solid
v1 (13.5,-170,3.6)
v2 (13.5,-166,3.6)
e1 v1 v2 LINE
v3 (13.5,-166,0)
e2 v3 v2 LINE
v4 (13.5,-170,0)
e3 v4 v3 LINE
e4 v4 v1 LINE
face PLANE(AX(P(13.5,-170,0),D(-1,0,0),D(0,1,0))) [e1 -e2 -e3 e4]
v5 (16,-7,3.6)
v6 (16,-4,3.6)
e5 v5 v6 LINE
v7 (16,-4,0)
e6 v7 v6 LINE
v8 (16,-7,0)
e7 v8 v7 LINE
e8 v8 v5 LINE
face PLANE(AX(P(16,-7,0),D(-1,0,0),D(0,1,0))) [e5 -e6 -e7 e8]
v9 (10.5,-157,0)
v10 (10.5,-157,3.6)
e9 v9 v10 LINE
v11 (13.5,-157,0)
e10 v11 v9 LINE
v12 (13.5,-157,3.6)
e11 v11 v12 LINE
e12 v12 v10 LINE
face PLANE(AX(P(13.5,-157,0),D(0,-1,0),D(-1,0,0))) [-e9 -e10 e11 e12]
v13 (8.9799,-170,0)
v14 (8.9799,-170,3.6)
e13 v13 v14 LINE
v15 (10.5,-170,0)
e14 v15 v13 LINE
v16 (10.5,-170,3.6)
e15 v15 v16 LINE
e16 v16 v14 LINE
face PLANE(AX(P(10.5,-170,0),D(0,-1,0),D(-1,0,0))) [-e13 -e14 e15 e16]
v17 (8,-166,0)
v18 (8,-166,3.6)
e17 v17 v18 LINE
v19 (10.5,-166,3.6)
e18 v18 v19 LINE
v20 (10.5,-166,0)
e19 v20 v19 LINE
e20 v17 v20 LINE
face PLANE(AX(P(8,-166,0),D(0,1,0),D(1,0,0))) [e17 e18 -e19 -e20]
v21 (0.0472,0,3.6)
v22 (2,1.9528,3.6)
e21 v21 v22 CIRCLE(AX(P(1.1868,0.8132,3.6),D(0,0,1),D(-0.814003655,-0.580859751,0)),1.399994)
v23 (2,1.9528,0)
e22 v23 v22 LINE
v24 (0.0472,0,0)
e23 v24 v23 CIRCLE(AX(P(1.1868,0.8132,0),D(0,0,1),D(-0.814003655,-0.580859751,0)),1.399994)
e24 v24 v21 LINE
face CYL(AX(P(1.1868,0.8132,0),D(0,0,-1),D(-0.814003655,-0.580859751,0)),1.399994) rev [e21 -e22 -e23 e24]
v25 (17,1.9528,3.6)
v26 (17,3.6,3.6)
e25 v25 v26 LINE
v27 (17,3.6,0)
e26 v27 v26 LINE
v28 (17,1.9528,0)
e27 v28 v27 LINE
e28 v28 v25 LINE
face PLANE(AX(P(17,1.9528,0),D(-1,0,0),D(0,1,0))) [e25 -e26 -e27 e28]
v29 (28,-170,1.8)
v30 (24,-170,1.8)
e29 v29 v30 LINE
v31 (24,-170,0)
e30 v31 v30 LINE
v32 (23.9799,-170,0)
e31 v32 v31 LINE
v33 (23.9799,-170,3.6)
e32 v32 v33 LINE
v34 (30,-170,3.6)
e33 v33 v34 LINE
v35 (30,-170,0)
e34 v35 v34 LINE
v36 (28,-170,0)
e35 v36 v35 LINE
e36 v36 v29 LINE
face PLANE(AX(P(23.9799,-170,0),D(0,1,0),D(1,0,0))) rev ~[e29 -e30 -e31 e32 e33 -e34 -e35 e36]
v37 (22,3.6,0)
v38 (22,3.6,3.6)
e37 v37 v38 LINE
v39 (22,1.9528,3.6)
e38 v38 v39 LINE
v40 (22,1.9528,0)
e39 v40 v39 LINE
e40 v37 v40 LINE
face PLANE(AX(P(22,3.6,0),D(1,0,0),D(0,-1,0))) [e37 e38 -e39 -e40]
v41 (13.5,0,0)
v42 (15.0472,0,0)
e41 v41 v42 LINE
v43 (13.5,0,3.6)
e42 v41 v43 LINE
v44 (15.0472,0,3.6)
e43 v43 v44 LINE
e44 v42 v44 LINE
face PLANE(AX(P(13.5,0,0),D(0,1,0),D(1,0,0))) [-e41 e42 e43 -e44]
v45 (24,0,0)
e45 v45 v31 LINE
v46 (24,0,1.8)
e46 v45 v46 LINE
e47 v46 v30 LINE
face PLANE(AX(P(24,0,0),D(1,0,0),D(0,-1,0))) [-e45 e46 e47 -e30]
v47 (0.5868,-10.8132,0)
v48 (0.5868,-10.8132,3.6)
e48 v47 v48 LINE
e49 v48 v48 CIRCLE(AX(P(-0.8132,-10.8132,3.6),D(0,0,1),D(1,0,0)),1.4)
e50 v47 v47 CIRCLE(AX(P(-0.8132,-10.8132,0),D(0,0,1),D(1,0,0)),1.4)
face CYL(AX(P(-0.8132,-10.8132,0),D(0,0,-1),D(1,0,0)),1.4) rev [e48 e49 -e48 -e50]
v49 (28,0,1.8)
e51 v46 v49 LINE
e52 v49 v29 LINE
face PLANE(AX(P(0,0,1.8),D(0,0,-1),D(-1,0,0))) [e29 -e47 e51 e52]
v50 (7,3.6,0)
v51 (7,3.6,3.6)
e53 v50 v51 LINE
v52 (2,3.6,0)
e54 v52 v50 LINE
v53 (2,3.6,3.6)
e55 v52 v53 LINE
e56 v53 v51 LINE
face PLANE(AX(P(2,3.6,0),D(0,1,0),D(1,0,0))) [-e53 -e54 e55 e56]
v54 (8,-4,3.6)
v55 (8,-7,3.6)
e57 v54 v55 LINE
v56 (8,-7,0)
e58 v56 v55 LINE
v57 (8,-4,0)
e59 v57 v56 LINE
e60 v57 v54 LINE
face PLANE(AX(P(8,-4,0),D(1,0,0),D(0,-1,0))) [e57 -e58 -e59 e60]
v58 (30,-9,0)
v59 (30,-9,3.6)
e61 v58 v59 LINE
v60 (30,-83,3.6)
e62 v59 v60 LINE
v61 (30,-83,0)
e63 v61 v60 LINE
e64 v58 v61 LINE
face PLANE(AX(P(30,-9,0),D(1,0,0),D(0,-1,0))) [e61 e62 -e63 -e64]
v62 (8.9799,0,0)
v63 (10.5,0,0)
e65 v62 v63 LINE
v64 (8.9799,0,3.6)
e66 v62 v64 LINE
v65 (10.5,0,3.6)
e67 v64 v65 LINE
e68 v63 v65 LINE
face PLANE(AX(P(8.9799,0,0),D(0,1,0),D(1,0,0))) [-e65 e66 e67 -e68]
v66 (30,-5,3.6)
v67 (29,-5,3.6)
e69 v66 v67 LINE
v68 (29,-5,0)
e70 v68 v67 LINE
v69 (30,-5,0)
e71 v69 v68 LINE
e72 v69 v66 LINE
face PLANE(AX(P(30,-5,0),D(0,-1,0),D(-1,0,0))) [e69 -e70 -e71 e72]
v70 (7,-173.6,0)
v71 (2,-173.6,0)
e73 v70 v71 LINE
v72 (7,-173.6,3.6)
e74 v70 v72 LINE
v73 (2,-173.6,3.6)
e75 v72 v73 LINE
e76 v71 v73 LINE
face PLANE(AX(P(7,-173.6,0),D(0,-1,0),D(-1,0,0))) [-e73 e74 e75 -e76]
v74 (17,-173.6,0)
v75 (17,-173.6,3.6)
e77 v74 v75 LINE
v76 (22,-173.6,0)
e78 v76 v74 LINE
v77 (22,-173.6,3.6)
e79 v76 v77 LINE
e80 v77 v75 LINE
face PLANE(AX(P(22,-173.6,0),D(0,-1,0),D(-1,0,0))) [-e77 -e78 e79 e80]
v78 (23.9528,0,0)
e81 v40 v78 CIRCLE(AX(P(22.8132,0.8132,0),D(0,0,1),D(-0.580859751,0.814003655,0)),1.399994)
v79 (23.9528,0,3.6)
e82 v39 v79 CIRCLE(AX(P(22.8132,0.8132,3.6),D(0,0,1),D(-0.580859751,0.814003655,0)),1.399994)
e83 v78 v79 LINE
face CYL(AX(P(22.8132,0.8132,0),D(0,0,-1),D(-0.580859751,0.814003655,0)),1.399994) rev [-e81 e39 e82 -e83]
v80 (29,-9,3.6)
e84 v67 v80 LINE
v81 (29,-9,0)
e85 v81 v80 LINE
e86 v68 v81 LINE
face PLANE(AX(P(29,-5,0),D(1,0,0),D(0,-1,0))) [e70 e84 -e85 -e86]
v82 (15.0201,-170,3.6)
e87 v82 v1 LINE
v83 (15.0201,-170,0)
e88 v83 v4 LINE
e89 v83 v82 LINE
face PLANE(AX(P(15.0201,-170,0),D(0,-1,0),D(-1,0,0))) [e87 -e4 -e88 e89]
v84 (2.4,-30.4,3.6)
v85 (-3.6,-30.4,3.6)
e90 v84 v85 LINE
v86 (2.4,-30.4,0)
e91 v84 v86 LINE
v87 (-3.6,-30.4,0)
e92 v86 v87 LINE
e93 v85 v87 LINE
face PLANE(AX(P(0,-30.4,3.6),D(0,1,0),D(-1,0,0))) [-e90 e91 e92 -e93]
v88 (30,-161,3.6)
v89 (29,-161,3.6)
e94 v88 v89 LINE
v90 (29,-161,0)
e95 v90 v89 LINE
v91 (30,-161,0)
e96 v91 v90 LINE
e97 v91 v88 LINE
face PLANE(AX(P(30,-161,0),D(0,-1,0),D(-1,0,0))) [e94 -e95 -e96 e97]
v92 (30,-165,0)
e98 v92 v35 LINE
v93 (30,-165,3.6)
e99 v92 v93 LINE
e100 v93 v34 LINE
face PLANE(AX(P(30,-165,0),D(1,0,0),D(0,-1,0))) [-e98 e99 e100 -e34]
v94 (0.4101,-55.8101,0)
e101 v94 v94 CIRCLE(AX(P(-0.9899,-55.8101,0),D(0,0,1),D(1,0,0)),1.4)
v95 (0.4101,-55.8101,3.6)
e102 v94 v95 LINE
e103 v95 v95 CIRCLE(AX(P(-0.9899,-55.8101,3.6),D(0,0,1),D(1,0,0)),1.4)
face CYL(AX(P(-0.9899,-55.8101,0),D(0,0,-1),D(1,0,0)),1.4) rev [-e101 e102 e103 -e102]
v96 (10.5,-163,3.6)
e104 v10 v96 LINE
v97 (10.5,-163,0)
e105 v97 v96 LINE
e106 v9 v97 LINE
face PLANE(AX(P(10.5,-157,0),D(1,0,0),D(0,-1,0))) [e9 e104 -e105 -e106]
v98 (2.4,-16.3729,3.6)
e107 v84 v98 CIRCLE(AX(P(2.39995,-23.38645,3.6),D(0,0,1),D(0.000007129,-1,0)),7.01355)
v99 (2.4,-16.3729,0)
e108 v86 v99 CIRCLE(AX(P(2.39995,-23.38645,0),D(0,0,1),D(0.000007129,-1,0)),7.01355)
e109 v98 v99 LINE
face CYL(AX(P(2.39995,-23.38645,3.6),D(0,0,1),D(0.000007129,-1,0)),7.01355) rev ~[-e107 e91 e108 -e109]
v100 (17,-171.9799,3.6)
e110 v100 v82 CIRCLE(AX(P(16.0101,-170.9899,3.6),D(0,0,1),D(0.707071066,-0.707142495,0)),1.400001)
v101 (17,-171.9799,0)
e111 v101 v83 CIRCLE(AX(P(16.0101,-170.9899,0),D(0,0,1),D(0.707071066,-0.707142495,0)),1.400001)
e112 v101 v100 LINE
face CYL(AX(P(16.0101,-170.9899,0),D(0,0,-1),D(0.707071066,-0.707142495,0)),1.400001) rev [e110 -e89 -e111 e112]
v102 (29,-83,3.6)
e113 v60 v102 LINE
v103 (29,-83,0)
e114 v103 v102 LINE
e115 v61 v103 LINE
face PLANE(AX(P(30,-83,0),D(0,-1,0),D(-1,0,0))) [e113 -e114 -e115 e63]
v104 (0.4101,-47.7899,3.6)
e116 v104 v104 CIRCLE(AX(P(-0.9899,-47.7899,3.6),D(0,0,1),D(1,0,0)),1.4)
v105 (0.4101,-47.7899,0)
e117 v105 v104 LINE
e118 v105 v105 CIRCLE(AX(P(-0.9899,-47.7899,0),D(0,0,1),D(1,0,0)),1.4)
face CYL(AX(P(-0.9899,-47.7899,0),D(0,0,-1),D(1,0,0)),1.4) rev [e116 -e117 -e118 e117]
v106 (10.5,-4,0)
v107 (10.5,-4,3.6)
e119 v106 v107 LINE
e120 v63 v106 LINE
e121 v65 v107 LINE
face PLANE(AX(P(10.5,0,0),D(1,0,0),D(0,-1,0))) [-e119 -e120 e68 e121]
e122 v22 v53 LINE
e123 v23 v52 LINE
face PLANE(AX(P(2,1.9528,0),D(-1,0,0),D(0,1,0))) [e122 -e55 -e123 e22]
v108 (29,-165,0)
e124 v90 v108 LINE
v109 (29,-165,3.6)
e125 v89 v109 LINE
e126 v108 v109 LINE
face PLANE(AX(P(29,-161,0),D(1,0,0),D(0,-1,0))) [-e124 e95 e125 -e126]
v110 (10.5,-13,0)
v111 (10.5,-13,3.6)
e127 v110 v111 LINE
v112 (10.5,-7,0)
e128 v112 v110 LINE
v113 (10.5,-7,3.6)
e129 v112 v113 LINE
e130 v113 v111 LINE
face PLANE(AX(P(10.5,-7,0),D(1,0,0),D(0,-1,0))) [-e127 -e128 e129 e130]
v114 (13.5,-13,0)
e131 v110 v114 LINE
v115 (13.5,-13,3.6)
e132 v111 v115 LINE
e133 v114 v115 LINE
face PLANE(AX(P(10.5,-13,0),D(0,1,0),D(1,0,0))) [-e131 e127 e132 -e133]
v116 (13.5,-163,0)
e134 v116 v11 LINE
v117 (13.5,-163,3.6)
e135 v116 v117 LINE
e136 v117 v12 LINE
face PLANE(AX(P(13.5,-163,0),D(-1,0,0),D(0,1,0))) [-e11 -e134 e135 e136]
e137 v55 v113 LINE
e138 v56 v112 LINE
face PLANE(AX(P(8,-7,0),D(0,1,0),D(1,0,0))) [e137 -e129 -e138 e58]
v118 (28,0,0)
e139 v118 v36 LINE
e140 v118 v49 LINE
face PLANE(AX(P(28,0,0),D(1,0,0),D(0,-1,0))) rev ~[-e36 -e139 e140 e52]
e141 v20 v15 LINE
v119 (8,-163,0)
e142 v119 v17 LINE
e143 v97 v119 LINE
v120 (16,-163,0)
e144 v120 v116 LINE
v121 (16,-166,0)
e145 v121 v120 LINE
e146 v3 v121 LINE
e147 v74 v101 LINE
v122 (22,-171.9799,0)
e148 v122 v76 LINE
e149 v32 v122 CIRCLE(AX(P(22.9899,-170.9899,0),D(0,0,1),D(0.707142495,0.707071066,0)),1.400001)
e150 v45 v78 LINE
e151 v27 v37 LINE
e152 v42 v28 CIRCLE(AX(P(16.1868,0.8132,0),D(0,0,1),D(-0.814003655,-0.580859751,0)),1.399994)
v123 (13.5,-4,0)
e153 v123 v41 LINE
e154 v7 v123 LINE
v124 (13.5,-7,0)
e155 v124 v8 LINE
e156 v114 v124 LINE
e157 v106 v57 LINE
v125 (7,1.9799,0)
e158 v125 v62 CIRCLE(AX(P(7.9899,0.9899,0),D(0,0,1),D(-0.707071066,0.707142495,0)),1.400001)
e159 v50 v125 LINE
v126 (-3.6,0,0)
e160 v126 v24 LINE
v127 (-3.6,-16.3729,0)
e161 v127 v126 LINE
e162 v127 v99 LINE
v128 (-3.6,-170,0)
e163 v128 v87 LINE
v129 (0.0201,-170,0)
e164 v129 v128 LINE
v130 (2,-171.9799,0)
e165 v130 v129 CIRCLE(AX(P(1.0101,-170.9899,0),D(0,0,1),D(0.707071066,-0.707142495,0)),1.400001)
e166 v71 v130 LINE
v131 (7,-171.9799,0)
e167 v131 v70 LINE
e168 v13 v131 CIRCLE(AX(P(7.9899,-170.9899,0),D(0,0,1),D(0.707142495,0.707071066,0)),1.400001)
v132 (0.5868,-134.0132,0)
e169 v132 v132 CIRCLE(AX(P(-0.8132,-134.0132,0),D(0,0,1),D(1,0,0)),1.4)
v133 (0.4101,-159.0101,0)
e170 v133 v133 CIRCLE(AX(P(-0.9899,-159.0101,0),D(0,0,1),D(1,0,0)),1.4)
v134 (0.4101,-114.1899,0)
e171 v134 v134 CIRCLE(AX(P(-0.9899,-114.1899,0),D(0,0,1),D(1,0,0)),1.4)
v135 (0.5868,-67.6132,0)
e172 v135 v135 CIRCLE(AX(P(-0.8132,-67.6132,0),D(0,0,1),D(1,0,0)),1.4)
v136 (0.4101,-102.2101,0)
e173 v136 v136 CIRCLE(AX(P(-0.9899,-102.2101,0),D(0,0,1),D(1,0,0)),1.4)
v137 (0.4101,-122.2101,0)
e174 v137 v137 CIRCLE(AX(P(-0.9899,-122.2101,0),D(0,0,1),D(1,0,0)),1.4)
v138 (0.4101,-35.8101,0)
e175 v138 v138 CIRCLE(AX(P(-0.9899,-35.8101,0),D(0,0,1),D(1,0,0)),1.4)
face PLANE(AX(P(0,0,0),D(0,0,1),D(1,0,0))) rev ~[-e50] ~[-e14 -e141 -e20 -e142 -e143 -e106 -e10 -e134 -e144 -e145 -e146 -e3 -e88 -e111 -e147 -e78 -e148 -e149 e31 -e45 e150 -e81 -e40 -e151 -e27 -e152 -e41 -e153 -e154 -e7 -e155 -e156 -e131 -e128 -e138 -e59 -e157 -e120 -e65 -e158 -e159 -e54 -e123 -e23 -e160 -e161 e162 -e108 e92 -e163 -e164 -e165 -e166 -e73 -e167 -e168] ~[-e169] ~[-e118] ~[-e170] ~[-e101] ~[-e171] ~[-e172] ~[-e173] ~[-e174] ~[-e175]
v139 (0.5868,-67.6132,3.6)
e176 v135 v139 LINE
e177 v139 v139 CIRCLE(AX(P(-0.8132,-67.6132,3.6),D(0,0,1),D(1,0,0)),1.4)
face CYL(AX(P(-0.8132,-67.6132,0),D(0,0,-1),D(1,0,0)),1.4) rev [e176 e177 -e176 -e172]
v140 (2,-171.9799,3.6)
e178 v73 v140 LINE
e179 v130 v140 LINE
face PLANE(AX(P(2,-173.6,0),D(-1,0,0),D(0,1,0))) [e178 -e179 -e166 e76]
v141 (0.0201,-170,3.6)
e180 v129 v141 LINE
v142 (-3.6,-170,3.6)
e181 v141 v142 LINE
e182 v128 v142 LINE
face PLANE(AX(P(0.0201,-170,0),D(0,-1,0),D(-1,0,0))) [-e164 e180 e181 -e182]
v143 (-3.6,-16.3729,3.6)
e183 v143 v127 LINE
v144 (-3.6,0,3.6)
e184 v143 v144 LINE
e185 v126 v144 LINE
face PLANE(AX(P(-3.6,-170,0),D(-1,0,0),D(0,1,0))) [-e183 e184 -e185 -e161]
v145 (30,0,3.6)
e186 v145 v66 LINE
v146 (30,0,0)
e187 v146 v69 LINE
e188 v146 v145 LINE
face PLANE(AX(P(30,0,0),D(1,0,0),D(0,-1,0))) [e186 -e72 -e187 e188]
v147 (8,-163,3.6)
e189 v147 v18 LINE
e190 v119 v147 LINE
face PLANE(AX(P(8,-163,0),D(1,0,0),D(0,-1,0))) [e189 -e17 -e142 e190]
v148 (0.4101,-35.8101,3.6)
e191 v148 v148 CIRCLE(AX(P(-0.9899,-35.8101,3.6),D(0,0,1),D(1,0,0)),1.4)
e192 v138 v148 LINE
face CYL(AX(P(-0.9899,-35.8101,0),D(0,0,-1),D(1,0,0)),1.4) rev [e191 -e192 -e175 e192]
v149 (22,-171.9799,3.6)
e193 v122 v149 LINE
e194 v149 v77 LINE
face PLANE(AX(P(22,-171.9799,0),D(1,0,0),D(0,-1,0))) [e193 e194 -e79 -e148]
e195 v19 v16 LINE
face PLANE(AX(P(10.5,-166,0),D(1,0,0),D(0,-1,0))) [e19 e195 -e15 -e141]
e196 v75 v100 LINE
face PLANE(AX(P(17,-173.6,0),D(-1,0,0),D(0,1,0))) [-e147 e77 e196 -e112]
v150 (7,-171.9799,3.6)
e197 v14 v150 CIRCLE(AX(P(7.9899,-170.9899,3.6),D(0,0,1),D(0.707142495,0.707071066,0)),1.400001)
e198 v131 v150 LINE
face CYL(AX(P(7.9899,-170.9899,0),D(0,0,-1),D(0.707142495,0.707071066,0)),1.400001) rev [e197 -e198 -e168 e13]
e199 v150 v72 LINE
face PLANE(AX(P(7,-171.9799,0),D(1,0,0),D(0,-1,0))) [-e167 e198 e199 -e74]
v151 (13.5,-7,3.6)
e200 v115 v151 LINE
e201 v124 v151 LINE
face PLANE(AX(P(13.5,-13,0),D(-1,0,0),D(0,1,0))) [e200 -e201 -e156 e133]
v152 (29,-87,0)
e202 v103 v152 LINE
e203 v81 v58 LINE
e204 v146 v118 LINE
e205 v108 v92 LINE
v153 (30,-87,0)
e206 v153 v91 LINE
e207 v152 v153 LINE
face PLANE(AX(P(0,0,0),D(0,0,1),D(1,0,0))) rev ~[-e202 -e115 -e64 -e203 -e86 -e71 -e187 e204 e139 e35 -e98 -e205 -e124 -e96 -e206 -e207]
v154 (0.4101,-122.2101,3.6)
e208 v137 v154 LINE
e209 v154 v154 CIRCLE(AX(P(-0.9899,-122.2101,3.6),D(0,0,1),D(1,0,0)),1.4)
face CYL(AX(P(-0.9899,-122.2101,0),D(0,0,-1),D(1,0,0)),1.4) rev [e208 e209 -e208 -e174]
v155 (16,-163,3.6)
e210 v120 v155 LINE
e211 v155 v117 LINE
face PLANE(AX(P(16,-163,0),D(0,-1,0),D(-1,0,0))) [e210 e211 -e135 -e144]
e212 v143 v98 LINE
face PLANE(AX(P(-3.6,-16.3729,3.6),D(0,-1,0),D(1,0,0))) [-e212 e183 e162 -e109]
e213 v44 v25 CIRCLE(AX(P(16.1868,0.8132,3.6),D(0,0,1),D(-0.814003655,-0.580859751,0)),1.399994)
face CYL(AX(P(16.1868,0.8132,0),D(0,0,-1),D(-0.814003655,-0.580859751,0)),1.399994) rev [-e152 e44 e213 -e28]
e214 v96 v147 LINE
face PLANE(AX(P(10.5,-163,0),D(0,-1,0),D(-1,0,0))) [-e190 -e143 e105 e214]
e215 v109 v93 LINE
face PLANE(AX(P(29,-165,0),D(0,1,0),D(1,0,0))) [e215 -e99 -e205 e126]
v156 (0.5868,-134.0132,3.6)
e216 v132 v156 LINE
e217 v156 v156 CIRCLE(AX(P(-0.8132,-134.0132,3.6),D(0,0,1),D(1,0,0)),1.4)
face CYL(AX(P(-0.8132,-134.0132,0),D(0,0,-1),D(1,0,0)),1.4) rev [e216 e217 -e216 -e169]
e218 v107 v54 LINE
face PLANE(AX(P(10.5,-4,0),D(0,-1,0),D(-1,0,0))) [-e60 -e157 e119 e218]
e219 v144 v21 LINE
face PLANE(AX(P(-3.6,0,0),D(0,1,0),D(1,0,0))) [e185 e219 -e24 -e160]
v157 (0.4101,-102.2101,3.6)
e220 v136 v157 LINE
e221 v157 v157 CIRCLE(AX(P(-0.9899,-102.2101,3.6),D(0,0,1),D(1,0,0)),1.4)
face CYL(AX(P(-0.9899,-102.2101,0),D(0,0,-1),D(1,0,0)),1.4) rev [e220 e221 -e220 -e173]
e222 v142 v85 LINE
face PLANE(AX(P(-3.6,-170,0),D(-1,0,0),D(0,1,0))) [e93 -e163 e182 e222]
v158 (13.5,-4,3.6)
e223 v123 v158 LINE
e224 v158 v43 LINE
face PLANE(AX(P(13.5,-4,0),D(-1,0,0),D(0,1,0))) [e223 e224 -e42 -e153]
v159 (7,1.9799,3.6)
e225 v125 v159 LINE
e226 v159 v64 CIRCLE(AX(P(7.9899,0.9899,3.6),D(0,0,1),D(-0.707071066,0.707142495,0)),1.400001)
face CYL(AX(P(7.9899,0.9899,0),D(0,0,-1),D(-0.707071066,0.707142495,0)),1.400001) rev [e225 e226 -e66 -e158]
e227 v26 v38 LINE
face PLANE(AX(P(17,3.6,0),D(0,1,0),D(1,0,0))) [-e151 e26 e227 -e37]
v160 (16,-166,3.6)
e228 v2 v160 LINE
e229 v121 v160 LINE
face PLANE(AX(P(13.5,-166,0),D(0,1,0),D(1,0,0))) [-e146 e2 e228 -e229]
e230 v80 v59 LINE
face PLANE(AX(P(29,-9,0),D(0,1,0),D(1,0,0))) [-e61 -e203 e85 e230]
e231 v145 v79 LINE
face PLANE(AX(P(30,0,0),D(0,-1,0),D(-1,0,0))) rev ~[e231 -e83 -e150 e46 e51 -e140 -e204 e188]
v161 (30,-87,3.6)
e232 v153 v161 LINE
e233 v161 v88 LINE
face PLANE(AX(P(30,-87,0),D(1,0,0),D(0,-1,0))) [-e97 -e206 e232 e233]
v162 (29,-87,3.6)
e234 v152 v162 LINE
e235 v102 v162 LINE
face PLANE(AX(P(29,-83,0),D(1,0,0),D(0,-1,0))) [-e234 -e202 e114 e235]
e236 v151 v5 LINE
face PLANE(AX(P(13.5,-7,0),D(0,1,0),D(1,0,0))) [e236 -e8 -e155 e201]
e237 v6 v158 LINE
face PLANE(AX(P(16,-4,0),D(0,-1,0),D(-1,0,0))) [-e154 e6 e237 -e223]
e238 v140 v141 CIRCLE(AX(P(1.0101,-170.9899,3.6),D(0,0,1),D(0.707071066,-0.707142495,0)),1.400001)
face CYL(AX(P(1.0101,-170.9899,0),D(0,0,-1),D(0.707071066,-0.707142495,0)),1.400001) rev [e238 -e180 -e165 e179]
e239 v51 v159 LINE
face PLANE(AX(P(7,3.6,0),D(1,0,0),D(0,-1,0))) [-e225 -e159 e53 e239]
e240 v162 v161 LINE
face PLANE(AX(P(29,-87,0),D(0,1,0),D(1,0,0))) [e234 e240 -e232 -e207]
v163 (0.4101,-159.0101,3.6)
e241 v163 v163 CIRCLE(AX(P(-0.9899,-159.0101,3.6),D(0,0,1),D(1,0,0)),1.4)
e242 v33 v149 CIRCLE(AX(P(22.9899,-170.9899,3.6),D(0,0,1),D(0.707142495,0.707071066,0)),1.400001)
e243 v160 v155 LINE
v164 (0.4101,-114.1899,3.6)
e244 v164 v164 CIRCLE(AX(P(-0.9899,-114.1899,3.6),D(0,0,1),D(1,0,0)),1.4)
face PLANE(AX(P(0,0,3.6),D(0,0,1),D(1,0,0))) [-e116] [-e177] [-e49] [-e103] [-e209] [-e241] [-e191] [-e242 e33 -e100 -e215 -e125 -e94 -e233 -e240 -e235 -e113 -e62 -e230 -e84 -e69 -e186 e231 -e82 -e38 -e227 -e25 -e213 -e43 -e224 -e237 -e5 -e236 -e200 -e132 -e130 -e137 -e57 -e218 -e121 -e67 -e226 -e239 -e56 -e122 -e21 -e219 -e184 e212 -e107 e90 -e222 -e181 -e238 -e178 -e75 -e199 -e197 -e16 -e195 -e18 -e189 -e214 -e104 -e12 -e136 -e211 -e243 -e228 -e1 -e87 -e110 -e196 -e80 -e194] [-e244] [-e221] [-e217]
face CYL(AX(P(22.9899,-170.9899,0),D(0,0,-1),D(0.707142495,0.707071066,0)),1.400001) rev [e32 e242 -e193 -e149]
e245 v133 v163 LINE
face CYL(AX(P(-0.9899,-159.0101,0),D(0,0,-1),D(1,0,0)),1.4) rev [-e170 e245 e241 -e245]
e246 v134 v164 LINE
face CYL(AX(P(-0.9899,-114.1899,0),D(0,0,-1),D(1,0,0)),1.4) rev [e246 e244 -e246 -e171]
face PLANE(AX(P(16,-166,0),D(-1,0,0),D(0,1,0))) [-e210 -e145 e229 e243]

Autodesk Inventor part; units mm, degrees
ref_plane "YZ Plane" through (0, 0, 0) normal (1, 0, 0) x (0, 1, 0)
ref_plane "XZ Plane" through (0, 0, 0) normal (0, 1, 0) x (-1, 0, 0)
ref_plane "XY Plane" through (0, 0, 0) normal (0, 0, 1) x (1, 0, 0)
ref_plane "Work Plane1" through (0, 0, 0) normal (0, 0, 1) x (1, 0, 0)
sketch "Sketch1" plane through (0, 0, 0) normal (0, 0, 1) x (1, 0, 0)
  line L0 (30, 0) -> (23.9528, 0) projected
  line L1 (30, 0) -> (30, -5) projected
  line L2 (23.9799, -170) -> (30, -170) projected
  line L3 (22, -171.9799) -> (22, -173.6) projected
  line L4 (22, -173.6) -> (17, -173.6) projected
  line L5 (17, -173.6) -> (17, -171.9799) projected
  line L6 (15.0201, -170) -> (13.5, -170) projected
  line L7 (13.5, -170) -> (13.5, -166) projected
  line L8 (13.5, -166) -> (16, -166) projected
  line L9 (16, -166) -> (16, -163) projected
  line L10 (16, -163) -> (13.5, -163) projected
  line L11 (13.5, -163) -> (13.5, -157) projected
  line L12 (13.5, -157) -> (10.5, -157) projected
  line L13 (10.5, -157) -> (10.5, -163) projected
  line L14 (10.5, -163) -> (8, -163) projected
  line L15 (8, -163) -> (8, -166) projected
  line L16 (8, -166) -> (10.5, -166) projected
  line L17 (10.5, -166) -> (10.5, -170) projected
  line L18 (10.5, -170) -> (8.9799, -170) projected
  line L19 (7, -171.9799) -> (7, -173.6) projected
  line L20 (7, -173.6) -> (2, -173.6) projected
  line L21 (2, -173.6) -> (2, -171.9799) projected
  line L22 (0.0201, -170) -> (-3.6, -170) projected
  line L23 (-3.6, -170) -> (-3.6, 0) projected
  line L24 (-3.6, 0) -> (0.0472, 0) projected
  line L25 (2, 1.9528) -> (2, 3.6) projected
  line L26 (2, 3.6) -> (7, 3.6) projected
  line L27 (7, 3.6) -> (7, 1.9799) projected
  line L28 (8.9799, 0) -> (10.5, 0) projected
  line L29 (10.5, 0) -> (10.5, -4) projected
  line L30 (10.5, -4) -> (8, -4) projected
  line L31 (8, -4) -> (8, -7) projected
  line L32 (8, -7) -> (10.5, -7) projected
  line L33 (10.5, -7) -> (10.5, -13) projected
  line L34 (10.5, -13) -> (13.5, -13) projected
  line L35 (13.5, -13) -> (13.5, -7) projected
  line L36 (13.5, -7) -> (16, -7) projected
  line L37 (16, -7) -> (16, -4) projected
  line L38 (16, -4) -> (13.5, -4) projected
  line L39 (13.5, -4) -> (13.5, 0) projected
  line L40 (13.5, 0) -> (15.0472, 0) projected
  line L41 (17, 1.9528) -> (17, 3.6) projected
  line L42 (17, 3.6) -> (22, 3.6) projected
  line L43 (22, 3.6) -> (22, 1.9528) projected
  line L44 (29, -165) -> (30, -165) projected
  line L45 (30, -5) -> (29, -5) projected
  line L46 (29, -5) -> (29, -9) projected
  line L47 (29, -9) -> (30, -9) projected
  line L48 (30, -9) -> (30, -83) projected
  line L49 (30, -83) -> (29, -83) projected
  line L50 (29, -83) -> (29, -87) projected
  line L51 (29, -87) -> (30, -87) projected
  line L52 (30, -87) -> (30, -161) projected
  line L53 (30, -161) -> (29, -161) projected
  line L54 (29, -161) -> (29, -165) projected
  arc A0 (17, -171.9799) -> (15.0201, -170) centre (16.0101, -170.9899) ccw projected
  arc A1 (8.9799, -170) -> (7, -171.9799) centre (7.9899, -170.9899) ccw projected
  arc A2 (2, -171.9799) -> (0.0201, -170) centre (1.0101, -170.9899) ccw projected
  arc A3 (0.0472, 0) -> (2, 1.9528) centre (1.1868, 0.8132) ccw projected
  arc A4 (7, 1.9799) -> (8.9799, 0) centre (7.9899, 0.9899) ccw projected
  arc A5 (15.0472, 0) -> (17, 1.9528) centre (16.1868, 0.8132) ccw projected
  arc A6 (22, 1.9528) -> (23.9528, 0) centre (22.8132, 0.8132) ccw projected
  line L55 (30, -165) -> (30, -170) projected
  arc A7 (23.9799, -170) -> (22, -171.9799) centre (22.9899, -170.9899) ccw projected
  circle A8 centre (-0.9899, -159.0101) radius 1.4 projected
  circle A9 centre (-0.8132, -134.0132) radius 1.4 projected
  circle A10 centre (-0.9899, -122.2101) radius 1.4 projected
  circle A11 centre (-0.9899, -114.1899) radius 1.4 projected
  circle A12 centre (-0.9899, -102.2101) radius 1.4 projected
  circle A13 centre (-0.8132, -67.6132) radius 1.4 projected
  circle A14 centre (-0.9899, -55.8101) radius 1.4 projected
  circle A15 centre (-0.9899, -47.7899) radius 1.4 projected
  circle A16 centre (-0.9899, -35.8101) radius 1.4 projected
  circle A17 centre (-0.8132, -10.8132) radius 1.4 projected
  point P0 (0, 0)
  point P1 (22, 0)
  point P2 (22, -170)
  point P3 (17, -170)
  point P4 (7, -170)
  point P5 (2, -170)
  point P6 (0, -160)
  point P7 (0, -123.2)
  point P8 (0, -113.2)
  point P9 (0, -103.2)
  point P10 (0, -56.8)
  point P11 (0, -46.8)
  point P12 (0, -36.8)
  point P13 (2, 0)
  point P14 (7, 0)
  point P15 (17, 0)
  point P16 (-1.9799, -160)
  point P17 (-1.9528, -133.2)
  point P18 (-1.9799, -123.2)
  point P19 (-1.9799, -113.2)
  point P20 (-1.9799, -103.2)
  point P21 (-1.9528, -66.8)
  point P22 (-1.9799, -56.8)
  point P23 (-1.9799, -46.8)
  point P24 (-1.9799, -36.8)
  point P25 (-1.9528, -10)
  point P26 (0, -34.8201)
  point P27 (0, -11.9528)
  point P28 (0, -54.8201)
  point P29 (0, -48.7799)
  point P30 (0, -101.2201)
  point P31 (0, -68.7528)
  point P32 (0, -121.2201)
  point P33 (0, -115.1799)
  point P34 (0, -158.0201)
  point P35 (0, -135.1528)
extrude "Extrusion1" add sketch "Sketch1" along normal blind 3.6
sketch "Sketch3" plane through (0, 0, 0) normal (0, 0, -1) x (-1, 0, 0)
  line L0 (-28, -170) -> (-24, -170) projected
  line L1 (-28, 0) -> (-28, -170) projected
  line L2 (-24, 0) -> (-28, 0) projected
  line L3 (-24, 0) -> (-24, -170) projected
  point P0 (0, 0)
extrude "Extrusion3" cut sketch "Sketch3" against normal blind 1.8
sketch "Sketch16" plane through (0, 0, 3.6) normal (0, 0, 1) x (1, 0, 0)
  line L0 (30, -87) -> (29, -87) projected
  line L1 (29, -87) -> (29, -83) projected
  line L2 (29, -83) -> (30, -83) projected
  line L3 (30, -83) -> (30, -9) projected
  line L4 (30, -9) -> (29, -9) projected
  line L5 (29, -9) -> (29, -5) projected
  line L6 (29, -5) -> (30, -5) projected
  line L7 (30, -5) -> (30, 0) projected
  line L8 (30, 0) -> (23.9528, 0) projected
  arc A0 (22, 1.9528) -> (23.9528, 0) centre (22.8132, 0.8132) ccw projected
  line L9 (22, 1.9528) -> (22, 3.6) projected
  line L10 (22, 3.6) -> (17, 3.6) projected
  line L11 (17, 3.6) -> (17, 1.9528) projected
  arc A1 (15.0472, 0) -> (17, 1.9528) centre (16.1868, 0.8132) ccw projected
  line L12 (15.0472, 0) -> (13.5, 0) projected
  line L13 (13.5, 0) -> (13.5, -4) projected
  line L14 (13.5, -4) -> (16, -4) projected
  line L15 (16, -4) -> (16, -7) projected
  line L16 (16, -7) -> (13.5, -7) projected
  line L17 (13.5, -7) -> (13.5, -13) projected
  line L18 (13.5, -13) -> (10.5, -13) projected
  line L19 (10.5, -13) -> (10.5, -7) projected
  line L20 (10.5, -7) -> (8, -7) projected
  line L21 (8, -7) -> (8, -4) projected
  line L22 (8, -4) -> (10.5, -4) projected
  line L23 (10.5, -4) -> (10.5, 0) projected
  line L24 (10.5, 0) -> (8.9799, 0) projected
  arc A2 (7, 1.9799) -> (8.9799, 0) centre (7.9899, 0.9899) ccw projected
  line L25 (7, 1.9799) -> (7, 3.6) projected
  line L26 (7, 3.6) -> (2, 3.6) projected
  line L27 (2, 3.6) -> (2, 1.9528) projected
  arc A3 (0.0472, 0) -> (2, 1.9528) centre (1.1868, 0.8132) ccw projected
  line L28 (0.0472, 0) -> (-3.6, 0) projected
  circle A4 centre (-0.8132, -10.8132) radius 1.4 projected
  circle A5 centre (-0.9899, -35.8101) radius 1.4 projected
  circle A6 centre (-0.9899, -47.7899) radius 1.4 projected
  circle A7 centre (-0.9899, -55.8101) radius 1.4 projected
  circle A8 centre (-0.8132, -67.6132) radius 1.4 projected
  circle A9 centre (-0.9899, -102.2101) radius 1.4 projected
  circle A10 centre (-0.9899, -114.1899) radius 1.4 projected
  circle A11 centre (-0.9899, -122.2101) radius 1.4 projected
  circle A12 centre (-0.8132, -134.0132) radius 1.4 projected
  circle A13 centre (-0.9899, -159.0101) radius 1.4 projected
  line L29 (-3.6, 0) -> (-3.6, -170) projected
  line L30 (-3.6, -170) -> (0.0201, -170) projected
  arc A14 (2, -171.9799) -> (0.0201, -170) centre (1.0101, -170.9899) ccw projected
  line L31 (2, -171.9799) -> (2, -173.6) projected
  line L32 (2, -173.6) -> (7, -173.6) projected
  line L33 (7, -173.6) -> (7, -171.9799) projected
  arc A15 (8.9799, -170) -> (7, -171.9799) centre (7.9899, -170.9899) ccw projected
  line L34 (8.9799, -170) -> (10.5, -170) projected
  line L35 (10.5, -170) -> (10.5, -166) projected
  line L36 (10.5, -166) -> (8, -166) projected
  line L37 (8, -166) -> (8, -163) projected
  line L38 (8, -163) -> (10.5, -163) projected
  line L39 (10.5, -163) -> (10.5, -157) projected
  line L40 (10.5, -157) -> (13.5, -157) projected
  line L41 (13.5, -157) -> (13.5, -163) projected
  line L42 (13.5, -163) -> (16, -163) projected
  line L43 (16, -163) -> (16, -166) projected
  line L44 (16, -166) -> (13.5, -166) projected
  line L45 (13.5, -166) -> (13.5, -170) projected
  line L46 (13.5, -170) -> (15.0201, -170) projected
  arc A16 (17, -171.9799) -> (15.0201, -170) centre (16.0101, -170.9899) ccw projected
  line L47 (17, -171.9799) -> (17, -173.6) projected
  line L48 (17, -173.6) -> (22, -173.6) projected
  line L49 (22, -173.6) -> (22, -171.9799) projected
  arc A17 (23.9799, -170) -> (22, -171.9799) centre (22.9899, -170.9899) ccw projected
  line L50 (23.9799, -170) -> (30, -170) projected
  line L51 (30, -170) -> (30, -165) projected
  line L52 (30, -165) -> (29, -165) projected
  line L53 (29, -165) -> (29, -161) projected
  line L54 (29, -161) -> (30, -161) projected
  line L55 (30, -161) -> (30, -87) projected
  line L56 (0, -30.4) -> (-3.6, -30.4) projected
  line L57 (0, -16.4) -> (-3.6, -16.4) projected
  line L58 (-3.6, -23.3865) -> (2.4, -23.3865) construction
  line L59 (-3.6, -16.3729) -> (2.4, -16.3729)
  line L60 (2.4, -30.4) -> (-3.6, -30.4)
  arc A18 (-3.6, -16.3729) -> (-3.6, -30.4) centre (-3.6, -23.3865) ccw
  arc A19 (2.4, -30.4) -> (2.4, -16.3729) centre (2.4, -23.3865) ccw
  point P0 (0, 0)
  point P1 (-0.6, -23.3865)
  dimension "d39" = 6
extrude "Extrusion6" cut sketch "Sketch16" against normal through all contours A18 L29 | L29 L59 A19 L60 L56
sketch "Sketch17" plane through (0, 0, 3.6) normal (0, 0, 1) x (1, 0, 0)
  line L0 (-3.6, -16.3729) -> (2.4, -16.3729) projected
  arc A0 (2.4, -30.4) -> (2.4, -16.3729) centre (2.4, -23.3865) ccw projected
  line L1 (2.4, -30.4) -> (-3.6, -30.4) projected
  circle A1 centre (-0.9899, -35.8101) radius 1.4 projected
  circle A2 centre (-0.9899, -47.7899) radius 1.4 projected
  circle A3 centre (-0.9899, -55.8101) radius 1.4 projected
  circle A4 centre (-0.8132, -67.6132) radius 1.4 projected
  circle A5 centre (-0.9899, -102.2101) radius 1.4 projected
  circle A6 centre (-0.9899, -114.1899) radius 1.4 projected
  circle A7 centre (-0.9899, -122.2101) radius 1.4 projected
  circle A8 centre (-0.8132, -134.0132) radius 1.4 projected
  circle A9 centre (-0.9899, -159.0101) radius 1.4 projected
  line L2 (-3.6, 0) -> (-3.6, -16.3729) projected
  line L3 (-3.6, -170) -> (0.0201, -170) projected
  arc A10 (2, -171.9799) -> (0.0201, -170) centre (1.0101, -170.9899) ccw projected
  line L4 (2, -171.9799) -> (2, -173.6) projected
  line L5 (2, -173.6) -> (7, -173.6) projected
  line L6 (7, -173.6) -> (7, -171.9799) projected
  arc A11 (8.9799, -170) -> (7, -171.9799) centre (7.9899, -170.9899) ccw projected
  line L7 (8.9799, -170) -> (10.5, -170) projected
  line L8 (10.5, -170) -> (10.5, -166) projected
  line L9 (10.5, -166) -> (8, -166) projected
  line L10 (8, -166) -> (8, -163) projected
  line L11 (8, -163) -> (10.5, -163) projected
  line L12 (10.5, -163) -> (10.5, -157) projected
  line L13 (10.5, -157) -> (13.5, -157) projected
  line L14 (13.5, -157) -> (13.5, -163) projected
  line L15 (13.5, -163) -> (16, -163) projected
  line L16 (16, -163) -> (16, -166) projected
  line L17 (16, -166) -> (13.5, -166) projected
  line L18 (13.5, -166) -> (13.5, -170) projected
  line L19 (13.5, -170) -> (15.0201, -170) projected
  arc A12 (17, -171.9799) -> (15.0201, -170) centre (16.0101, -170.9899) ccw projected
  line L20 (17, -171.9799) -> (17, -173.6) projected
  line L21 (17, -173.6) -> (22, -173.6) projected
  line L22 (22, -173.6) -> (22, -171.9799) projected
  arc A13 (23.9799, -170) -> (22, -171.9799) centre (22.9899, -170.9899) ccw projected
  line L23 (23.9799, -170) -> (30, -170) projected
  line L24 (30, -170) -> (30, -165) projected
  line L25 (30, -165) -> (29, -165) projected
  line L26 (29, -165) -> (29, -161) projected
  line L27 (29, -161) -> (30, -161) projected
  line L28 (30, -161) -> (30, -87) projected
  line L29 (30, -87) -> (29, -87) projected
  line L30 (29, -87) -> (29, -83) projected
  line L31 (29, -83) -> (30, -83) projected
  line L32 (30, -83) -> (30, -9) projected
  line L33 (30, -9) -> (29, -9) projected
  line L34 (29, -9) -> (29, -5) projected
  line L35 (29, -5) -> (30, -5) projected
  line L36 (30, -5) -> (30, 0) projected
  line L37 (30, 0) -> (23.9528, 0) projected
  arc A14 (22, 1.9528) -> (23.9528, 0) centre (22.8132, 0.8132) ccw projected
  line L38 (22, 1.9528) -> (22, 3.6) projected
  line L39 (22, 3.6) -> (17, 3.6) projected
  line L40 (17, 3.6) -> (17, 1.9528) projected
  arc A15 (15.0472, 0) -> (17, 1.9528) centre (16.1868, 0.8132) ccw projected
  line L41 (15.0472, 0) -> (13.5, 0) projected
  line L42 (13.5, 0) -> (13.5, -4) projected
  line L43 (13.5, -4) -> (16, -4) projected
  line L44 (16, -4) -> (16, -7) projected
  line L45 (16, -7) -> (13.5, -7) projected
  line L46 (13.5, -7) -> (13.5, -13) projected
  line L47 (13.5, -13) -> (10.5, -13) projected
  line L48 (10.5, -13) -> (10.5, -7) projected
  line L49 (10.5, -7) -> (8, -7) projected
  line L50 (8, -7) -> (8, -4) projected
  line L51 (8, -4) -> (10.5, -4) projected
  line L52 (10.5, -4) -> (10.5, 0) projected
  line L53 (10.5, 0) -> (8.9799, 0) projected
  arc A16 (7, 1.9799) -> (8.9799, 0) centre (7.9899, 0.9899) ccw projected
  line L54 (7, 1.9799) -> (7, 3.6) projected
  line L55 (7, 3.6) -> (2, 3.6) projected
  line L56 (2, 3.6) -> (2, 1.9528) projected
  arc A17 (0.0472, 0) -> (2, 1.9528) centre (1.1868, 0.8132) ccw projected
  line L57 (0.0472, 0) -> (-3.6, 0) projected
  circle A18 centre (-0.8132, -10.8132) radius 1.4 projected
  line L58 (0, -153.6) -> (-3.6, -153.6) projected
  line L59 (0, -135.1528) -> (0, -158.0201) projected
  arc A19 (-0.2318, -139.5767) -> (5.2144, -151.2768) centre (0, -146.5865) ccw
  arc A20 (8.7055, -149.9855) -> (3.0039, -137.7368) centre (9.7399, -142.0526) ccw
  arc A21 (-0.2318, -139.5767) -> (3.0039, -137.7368) centre (-0.3641, -135.5789) ccw
  arc A22 (8.7055, -149.9855) -> (5.2144, -151.2768) centre (8.1883, -153.9519) ccw
  line L60 (-3.6, -30.4) -> (-3.6, -170) projected
  point P0 (0, 0)
  dimension "d42" = 16
  dimension "d43" = 4
extrude "Extrusion7" [suppressed]
equation "\"d0\" = wood_thickness"
equation "\"d7\" = deep_for_sliding_cover"
equation "\"wood_thickness\" = 3.6"
equation "\"deep_for_sliding_cover\" = 1.8"
properties part number "side_top"
